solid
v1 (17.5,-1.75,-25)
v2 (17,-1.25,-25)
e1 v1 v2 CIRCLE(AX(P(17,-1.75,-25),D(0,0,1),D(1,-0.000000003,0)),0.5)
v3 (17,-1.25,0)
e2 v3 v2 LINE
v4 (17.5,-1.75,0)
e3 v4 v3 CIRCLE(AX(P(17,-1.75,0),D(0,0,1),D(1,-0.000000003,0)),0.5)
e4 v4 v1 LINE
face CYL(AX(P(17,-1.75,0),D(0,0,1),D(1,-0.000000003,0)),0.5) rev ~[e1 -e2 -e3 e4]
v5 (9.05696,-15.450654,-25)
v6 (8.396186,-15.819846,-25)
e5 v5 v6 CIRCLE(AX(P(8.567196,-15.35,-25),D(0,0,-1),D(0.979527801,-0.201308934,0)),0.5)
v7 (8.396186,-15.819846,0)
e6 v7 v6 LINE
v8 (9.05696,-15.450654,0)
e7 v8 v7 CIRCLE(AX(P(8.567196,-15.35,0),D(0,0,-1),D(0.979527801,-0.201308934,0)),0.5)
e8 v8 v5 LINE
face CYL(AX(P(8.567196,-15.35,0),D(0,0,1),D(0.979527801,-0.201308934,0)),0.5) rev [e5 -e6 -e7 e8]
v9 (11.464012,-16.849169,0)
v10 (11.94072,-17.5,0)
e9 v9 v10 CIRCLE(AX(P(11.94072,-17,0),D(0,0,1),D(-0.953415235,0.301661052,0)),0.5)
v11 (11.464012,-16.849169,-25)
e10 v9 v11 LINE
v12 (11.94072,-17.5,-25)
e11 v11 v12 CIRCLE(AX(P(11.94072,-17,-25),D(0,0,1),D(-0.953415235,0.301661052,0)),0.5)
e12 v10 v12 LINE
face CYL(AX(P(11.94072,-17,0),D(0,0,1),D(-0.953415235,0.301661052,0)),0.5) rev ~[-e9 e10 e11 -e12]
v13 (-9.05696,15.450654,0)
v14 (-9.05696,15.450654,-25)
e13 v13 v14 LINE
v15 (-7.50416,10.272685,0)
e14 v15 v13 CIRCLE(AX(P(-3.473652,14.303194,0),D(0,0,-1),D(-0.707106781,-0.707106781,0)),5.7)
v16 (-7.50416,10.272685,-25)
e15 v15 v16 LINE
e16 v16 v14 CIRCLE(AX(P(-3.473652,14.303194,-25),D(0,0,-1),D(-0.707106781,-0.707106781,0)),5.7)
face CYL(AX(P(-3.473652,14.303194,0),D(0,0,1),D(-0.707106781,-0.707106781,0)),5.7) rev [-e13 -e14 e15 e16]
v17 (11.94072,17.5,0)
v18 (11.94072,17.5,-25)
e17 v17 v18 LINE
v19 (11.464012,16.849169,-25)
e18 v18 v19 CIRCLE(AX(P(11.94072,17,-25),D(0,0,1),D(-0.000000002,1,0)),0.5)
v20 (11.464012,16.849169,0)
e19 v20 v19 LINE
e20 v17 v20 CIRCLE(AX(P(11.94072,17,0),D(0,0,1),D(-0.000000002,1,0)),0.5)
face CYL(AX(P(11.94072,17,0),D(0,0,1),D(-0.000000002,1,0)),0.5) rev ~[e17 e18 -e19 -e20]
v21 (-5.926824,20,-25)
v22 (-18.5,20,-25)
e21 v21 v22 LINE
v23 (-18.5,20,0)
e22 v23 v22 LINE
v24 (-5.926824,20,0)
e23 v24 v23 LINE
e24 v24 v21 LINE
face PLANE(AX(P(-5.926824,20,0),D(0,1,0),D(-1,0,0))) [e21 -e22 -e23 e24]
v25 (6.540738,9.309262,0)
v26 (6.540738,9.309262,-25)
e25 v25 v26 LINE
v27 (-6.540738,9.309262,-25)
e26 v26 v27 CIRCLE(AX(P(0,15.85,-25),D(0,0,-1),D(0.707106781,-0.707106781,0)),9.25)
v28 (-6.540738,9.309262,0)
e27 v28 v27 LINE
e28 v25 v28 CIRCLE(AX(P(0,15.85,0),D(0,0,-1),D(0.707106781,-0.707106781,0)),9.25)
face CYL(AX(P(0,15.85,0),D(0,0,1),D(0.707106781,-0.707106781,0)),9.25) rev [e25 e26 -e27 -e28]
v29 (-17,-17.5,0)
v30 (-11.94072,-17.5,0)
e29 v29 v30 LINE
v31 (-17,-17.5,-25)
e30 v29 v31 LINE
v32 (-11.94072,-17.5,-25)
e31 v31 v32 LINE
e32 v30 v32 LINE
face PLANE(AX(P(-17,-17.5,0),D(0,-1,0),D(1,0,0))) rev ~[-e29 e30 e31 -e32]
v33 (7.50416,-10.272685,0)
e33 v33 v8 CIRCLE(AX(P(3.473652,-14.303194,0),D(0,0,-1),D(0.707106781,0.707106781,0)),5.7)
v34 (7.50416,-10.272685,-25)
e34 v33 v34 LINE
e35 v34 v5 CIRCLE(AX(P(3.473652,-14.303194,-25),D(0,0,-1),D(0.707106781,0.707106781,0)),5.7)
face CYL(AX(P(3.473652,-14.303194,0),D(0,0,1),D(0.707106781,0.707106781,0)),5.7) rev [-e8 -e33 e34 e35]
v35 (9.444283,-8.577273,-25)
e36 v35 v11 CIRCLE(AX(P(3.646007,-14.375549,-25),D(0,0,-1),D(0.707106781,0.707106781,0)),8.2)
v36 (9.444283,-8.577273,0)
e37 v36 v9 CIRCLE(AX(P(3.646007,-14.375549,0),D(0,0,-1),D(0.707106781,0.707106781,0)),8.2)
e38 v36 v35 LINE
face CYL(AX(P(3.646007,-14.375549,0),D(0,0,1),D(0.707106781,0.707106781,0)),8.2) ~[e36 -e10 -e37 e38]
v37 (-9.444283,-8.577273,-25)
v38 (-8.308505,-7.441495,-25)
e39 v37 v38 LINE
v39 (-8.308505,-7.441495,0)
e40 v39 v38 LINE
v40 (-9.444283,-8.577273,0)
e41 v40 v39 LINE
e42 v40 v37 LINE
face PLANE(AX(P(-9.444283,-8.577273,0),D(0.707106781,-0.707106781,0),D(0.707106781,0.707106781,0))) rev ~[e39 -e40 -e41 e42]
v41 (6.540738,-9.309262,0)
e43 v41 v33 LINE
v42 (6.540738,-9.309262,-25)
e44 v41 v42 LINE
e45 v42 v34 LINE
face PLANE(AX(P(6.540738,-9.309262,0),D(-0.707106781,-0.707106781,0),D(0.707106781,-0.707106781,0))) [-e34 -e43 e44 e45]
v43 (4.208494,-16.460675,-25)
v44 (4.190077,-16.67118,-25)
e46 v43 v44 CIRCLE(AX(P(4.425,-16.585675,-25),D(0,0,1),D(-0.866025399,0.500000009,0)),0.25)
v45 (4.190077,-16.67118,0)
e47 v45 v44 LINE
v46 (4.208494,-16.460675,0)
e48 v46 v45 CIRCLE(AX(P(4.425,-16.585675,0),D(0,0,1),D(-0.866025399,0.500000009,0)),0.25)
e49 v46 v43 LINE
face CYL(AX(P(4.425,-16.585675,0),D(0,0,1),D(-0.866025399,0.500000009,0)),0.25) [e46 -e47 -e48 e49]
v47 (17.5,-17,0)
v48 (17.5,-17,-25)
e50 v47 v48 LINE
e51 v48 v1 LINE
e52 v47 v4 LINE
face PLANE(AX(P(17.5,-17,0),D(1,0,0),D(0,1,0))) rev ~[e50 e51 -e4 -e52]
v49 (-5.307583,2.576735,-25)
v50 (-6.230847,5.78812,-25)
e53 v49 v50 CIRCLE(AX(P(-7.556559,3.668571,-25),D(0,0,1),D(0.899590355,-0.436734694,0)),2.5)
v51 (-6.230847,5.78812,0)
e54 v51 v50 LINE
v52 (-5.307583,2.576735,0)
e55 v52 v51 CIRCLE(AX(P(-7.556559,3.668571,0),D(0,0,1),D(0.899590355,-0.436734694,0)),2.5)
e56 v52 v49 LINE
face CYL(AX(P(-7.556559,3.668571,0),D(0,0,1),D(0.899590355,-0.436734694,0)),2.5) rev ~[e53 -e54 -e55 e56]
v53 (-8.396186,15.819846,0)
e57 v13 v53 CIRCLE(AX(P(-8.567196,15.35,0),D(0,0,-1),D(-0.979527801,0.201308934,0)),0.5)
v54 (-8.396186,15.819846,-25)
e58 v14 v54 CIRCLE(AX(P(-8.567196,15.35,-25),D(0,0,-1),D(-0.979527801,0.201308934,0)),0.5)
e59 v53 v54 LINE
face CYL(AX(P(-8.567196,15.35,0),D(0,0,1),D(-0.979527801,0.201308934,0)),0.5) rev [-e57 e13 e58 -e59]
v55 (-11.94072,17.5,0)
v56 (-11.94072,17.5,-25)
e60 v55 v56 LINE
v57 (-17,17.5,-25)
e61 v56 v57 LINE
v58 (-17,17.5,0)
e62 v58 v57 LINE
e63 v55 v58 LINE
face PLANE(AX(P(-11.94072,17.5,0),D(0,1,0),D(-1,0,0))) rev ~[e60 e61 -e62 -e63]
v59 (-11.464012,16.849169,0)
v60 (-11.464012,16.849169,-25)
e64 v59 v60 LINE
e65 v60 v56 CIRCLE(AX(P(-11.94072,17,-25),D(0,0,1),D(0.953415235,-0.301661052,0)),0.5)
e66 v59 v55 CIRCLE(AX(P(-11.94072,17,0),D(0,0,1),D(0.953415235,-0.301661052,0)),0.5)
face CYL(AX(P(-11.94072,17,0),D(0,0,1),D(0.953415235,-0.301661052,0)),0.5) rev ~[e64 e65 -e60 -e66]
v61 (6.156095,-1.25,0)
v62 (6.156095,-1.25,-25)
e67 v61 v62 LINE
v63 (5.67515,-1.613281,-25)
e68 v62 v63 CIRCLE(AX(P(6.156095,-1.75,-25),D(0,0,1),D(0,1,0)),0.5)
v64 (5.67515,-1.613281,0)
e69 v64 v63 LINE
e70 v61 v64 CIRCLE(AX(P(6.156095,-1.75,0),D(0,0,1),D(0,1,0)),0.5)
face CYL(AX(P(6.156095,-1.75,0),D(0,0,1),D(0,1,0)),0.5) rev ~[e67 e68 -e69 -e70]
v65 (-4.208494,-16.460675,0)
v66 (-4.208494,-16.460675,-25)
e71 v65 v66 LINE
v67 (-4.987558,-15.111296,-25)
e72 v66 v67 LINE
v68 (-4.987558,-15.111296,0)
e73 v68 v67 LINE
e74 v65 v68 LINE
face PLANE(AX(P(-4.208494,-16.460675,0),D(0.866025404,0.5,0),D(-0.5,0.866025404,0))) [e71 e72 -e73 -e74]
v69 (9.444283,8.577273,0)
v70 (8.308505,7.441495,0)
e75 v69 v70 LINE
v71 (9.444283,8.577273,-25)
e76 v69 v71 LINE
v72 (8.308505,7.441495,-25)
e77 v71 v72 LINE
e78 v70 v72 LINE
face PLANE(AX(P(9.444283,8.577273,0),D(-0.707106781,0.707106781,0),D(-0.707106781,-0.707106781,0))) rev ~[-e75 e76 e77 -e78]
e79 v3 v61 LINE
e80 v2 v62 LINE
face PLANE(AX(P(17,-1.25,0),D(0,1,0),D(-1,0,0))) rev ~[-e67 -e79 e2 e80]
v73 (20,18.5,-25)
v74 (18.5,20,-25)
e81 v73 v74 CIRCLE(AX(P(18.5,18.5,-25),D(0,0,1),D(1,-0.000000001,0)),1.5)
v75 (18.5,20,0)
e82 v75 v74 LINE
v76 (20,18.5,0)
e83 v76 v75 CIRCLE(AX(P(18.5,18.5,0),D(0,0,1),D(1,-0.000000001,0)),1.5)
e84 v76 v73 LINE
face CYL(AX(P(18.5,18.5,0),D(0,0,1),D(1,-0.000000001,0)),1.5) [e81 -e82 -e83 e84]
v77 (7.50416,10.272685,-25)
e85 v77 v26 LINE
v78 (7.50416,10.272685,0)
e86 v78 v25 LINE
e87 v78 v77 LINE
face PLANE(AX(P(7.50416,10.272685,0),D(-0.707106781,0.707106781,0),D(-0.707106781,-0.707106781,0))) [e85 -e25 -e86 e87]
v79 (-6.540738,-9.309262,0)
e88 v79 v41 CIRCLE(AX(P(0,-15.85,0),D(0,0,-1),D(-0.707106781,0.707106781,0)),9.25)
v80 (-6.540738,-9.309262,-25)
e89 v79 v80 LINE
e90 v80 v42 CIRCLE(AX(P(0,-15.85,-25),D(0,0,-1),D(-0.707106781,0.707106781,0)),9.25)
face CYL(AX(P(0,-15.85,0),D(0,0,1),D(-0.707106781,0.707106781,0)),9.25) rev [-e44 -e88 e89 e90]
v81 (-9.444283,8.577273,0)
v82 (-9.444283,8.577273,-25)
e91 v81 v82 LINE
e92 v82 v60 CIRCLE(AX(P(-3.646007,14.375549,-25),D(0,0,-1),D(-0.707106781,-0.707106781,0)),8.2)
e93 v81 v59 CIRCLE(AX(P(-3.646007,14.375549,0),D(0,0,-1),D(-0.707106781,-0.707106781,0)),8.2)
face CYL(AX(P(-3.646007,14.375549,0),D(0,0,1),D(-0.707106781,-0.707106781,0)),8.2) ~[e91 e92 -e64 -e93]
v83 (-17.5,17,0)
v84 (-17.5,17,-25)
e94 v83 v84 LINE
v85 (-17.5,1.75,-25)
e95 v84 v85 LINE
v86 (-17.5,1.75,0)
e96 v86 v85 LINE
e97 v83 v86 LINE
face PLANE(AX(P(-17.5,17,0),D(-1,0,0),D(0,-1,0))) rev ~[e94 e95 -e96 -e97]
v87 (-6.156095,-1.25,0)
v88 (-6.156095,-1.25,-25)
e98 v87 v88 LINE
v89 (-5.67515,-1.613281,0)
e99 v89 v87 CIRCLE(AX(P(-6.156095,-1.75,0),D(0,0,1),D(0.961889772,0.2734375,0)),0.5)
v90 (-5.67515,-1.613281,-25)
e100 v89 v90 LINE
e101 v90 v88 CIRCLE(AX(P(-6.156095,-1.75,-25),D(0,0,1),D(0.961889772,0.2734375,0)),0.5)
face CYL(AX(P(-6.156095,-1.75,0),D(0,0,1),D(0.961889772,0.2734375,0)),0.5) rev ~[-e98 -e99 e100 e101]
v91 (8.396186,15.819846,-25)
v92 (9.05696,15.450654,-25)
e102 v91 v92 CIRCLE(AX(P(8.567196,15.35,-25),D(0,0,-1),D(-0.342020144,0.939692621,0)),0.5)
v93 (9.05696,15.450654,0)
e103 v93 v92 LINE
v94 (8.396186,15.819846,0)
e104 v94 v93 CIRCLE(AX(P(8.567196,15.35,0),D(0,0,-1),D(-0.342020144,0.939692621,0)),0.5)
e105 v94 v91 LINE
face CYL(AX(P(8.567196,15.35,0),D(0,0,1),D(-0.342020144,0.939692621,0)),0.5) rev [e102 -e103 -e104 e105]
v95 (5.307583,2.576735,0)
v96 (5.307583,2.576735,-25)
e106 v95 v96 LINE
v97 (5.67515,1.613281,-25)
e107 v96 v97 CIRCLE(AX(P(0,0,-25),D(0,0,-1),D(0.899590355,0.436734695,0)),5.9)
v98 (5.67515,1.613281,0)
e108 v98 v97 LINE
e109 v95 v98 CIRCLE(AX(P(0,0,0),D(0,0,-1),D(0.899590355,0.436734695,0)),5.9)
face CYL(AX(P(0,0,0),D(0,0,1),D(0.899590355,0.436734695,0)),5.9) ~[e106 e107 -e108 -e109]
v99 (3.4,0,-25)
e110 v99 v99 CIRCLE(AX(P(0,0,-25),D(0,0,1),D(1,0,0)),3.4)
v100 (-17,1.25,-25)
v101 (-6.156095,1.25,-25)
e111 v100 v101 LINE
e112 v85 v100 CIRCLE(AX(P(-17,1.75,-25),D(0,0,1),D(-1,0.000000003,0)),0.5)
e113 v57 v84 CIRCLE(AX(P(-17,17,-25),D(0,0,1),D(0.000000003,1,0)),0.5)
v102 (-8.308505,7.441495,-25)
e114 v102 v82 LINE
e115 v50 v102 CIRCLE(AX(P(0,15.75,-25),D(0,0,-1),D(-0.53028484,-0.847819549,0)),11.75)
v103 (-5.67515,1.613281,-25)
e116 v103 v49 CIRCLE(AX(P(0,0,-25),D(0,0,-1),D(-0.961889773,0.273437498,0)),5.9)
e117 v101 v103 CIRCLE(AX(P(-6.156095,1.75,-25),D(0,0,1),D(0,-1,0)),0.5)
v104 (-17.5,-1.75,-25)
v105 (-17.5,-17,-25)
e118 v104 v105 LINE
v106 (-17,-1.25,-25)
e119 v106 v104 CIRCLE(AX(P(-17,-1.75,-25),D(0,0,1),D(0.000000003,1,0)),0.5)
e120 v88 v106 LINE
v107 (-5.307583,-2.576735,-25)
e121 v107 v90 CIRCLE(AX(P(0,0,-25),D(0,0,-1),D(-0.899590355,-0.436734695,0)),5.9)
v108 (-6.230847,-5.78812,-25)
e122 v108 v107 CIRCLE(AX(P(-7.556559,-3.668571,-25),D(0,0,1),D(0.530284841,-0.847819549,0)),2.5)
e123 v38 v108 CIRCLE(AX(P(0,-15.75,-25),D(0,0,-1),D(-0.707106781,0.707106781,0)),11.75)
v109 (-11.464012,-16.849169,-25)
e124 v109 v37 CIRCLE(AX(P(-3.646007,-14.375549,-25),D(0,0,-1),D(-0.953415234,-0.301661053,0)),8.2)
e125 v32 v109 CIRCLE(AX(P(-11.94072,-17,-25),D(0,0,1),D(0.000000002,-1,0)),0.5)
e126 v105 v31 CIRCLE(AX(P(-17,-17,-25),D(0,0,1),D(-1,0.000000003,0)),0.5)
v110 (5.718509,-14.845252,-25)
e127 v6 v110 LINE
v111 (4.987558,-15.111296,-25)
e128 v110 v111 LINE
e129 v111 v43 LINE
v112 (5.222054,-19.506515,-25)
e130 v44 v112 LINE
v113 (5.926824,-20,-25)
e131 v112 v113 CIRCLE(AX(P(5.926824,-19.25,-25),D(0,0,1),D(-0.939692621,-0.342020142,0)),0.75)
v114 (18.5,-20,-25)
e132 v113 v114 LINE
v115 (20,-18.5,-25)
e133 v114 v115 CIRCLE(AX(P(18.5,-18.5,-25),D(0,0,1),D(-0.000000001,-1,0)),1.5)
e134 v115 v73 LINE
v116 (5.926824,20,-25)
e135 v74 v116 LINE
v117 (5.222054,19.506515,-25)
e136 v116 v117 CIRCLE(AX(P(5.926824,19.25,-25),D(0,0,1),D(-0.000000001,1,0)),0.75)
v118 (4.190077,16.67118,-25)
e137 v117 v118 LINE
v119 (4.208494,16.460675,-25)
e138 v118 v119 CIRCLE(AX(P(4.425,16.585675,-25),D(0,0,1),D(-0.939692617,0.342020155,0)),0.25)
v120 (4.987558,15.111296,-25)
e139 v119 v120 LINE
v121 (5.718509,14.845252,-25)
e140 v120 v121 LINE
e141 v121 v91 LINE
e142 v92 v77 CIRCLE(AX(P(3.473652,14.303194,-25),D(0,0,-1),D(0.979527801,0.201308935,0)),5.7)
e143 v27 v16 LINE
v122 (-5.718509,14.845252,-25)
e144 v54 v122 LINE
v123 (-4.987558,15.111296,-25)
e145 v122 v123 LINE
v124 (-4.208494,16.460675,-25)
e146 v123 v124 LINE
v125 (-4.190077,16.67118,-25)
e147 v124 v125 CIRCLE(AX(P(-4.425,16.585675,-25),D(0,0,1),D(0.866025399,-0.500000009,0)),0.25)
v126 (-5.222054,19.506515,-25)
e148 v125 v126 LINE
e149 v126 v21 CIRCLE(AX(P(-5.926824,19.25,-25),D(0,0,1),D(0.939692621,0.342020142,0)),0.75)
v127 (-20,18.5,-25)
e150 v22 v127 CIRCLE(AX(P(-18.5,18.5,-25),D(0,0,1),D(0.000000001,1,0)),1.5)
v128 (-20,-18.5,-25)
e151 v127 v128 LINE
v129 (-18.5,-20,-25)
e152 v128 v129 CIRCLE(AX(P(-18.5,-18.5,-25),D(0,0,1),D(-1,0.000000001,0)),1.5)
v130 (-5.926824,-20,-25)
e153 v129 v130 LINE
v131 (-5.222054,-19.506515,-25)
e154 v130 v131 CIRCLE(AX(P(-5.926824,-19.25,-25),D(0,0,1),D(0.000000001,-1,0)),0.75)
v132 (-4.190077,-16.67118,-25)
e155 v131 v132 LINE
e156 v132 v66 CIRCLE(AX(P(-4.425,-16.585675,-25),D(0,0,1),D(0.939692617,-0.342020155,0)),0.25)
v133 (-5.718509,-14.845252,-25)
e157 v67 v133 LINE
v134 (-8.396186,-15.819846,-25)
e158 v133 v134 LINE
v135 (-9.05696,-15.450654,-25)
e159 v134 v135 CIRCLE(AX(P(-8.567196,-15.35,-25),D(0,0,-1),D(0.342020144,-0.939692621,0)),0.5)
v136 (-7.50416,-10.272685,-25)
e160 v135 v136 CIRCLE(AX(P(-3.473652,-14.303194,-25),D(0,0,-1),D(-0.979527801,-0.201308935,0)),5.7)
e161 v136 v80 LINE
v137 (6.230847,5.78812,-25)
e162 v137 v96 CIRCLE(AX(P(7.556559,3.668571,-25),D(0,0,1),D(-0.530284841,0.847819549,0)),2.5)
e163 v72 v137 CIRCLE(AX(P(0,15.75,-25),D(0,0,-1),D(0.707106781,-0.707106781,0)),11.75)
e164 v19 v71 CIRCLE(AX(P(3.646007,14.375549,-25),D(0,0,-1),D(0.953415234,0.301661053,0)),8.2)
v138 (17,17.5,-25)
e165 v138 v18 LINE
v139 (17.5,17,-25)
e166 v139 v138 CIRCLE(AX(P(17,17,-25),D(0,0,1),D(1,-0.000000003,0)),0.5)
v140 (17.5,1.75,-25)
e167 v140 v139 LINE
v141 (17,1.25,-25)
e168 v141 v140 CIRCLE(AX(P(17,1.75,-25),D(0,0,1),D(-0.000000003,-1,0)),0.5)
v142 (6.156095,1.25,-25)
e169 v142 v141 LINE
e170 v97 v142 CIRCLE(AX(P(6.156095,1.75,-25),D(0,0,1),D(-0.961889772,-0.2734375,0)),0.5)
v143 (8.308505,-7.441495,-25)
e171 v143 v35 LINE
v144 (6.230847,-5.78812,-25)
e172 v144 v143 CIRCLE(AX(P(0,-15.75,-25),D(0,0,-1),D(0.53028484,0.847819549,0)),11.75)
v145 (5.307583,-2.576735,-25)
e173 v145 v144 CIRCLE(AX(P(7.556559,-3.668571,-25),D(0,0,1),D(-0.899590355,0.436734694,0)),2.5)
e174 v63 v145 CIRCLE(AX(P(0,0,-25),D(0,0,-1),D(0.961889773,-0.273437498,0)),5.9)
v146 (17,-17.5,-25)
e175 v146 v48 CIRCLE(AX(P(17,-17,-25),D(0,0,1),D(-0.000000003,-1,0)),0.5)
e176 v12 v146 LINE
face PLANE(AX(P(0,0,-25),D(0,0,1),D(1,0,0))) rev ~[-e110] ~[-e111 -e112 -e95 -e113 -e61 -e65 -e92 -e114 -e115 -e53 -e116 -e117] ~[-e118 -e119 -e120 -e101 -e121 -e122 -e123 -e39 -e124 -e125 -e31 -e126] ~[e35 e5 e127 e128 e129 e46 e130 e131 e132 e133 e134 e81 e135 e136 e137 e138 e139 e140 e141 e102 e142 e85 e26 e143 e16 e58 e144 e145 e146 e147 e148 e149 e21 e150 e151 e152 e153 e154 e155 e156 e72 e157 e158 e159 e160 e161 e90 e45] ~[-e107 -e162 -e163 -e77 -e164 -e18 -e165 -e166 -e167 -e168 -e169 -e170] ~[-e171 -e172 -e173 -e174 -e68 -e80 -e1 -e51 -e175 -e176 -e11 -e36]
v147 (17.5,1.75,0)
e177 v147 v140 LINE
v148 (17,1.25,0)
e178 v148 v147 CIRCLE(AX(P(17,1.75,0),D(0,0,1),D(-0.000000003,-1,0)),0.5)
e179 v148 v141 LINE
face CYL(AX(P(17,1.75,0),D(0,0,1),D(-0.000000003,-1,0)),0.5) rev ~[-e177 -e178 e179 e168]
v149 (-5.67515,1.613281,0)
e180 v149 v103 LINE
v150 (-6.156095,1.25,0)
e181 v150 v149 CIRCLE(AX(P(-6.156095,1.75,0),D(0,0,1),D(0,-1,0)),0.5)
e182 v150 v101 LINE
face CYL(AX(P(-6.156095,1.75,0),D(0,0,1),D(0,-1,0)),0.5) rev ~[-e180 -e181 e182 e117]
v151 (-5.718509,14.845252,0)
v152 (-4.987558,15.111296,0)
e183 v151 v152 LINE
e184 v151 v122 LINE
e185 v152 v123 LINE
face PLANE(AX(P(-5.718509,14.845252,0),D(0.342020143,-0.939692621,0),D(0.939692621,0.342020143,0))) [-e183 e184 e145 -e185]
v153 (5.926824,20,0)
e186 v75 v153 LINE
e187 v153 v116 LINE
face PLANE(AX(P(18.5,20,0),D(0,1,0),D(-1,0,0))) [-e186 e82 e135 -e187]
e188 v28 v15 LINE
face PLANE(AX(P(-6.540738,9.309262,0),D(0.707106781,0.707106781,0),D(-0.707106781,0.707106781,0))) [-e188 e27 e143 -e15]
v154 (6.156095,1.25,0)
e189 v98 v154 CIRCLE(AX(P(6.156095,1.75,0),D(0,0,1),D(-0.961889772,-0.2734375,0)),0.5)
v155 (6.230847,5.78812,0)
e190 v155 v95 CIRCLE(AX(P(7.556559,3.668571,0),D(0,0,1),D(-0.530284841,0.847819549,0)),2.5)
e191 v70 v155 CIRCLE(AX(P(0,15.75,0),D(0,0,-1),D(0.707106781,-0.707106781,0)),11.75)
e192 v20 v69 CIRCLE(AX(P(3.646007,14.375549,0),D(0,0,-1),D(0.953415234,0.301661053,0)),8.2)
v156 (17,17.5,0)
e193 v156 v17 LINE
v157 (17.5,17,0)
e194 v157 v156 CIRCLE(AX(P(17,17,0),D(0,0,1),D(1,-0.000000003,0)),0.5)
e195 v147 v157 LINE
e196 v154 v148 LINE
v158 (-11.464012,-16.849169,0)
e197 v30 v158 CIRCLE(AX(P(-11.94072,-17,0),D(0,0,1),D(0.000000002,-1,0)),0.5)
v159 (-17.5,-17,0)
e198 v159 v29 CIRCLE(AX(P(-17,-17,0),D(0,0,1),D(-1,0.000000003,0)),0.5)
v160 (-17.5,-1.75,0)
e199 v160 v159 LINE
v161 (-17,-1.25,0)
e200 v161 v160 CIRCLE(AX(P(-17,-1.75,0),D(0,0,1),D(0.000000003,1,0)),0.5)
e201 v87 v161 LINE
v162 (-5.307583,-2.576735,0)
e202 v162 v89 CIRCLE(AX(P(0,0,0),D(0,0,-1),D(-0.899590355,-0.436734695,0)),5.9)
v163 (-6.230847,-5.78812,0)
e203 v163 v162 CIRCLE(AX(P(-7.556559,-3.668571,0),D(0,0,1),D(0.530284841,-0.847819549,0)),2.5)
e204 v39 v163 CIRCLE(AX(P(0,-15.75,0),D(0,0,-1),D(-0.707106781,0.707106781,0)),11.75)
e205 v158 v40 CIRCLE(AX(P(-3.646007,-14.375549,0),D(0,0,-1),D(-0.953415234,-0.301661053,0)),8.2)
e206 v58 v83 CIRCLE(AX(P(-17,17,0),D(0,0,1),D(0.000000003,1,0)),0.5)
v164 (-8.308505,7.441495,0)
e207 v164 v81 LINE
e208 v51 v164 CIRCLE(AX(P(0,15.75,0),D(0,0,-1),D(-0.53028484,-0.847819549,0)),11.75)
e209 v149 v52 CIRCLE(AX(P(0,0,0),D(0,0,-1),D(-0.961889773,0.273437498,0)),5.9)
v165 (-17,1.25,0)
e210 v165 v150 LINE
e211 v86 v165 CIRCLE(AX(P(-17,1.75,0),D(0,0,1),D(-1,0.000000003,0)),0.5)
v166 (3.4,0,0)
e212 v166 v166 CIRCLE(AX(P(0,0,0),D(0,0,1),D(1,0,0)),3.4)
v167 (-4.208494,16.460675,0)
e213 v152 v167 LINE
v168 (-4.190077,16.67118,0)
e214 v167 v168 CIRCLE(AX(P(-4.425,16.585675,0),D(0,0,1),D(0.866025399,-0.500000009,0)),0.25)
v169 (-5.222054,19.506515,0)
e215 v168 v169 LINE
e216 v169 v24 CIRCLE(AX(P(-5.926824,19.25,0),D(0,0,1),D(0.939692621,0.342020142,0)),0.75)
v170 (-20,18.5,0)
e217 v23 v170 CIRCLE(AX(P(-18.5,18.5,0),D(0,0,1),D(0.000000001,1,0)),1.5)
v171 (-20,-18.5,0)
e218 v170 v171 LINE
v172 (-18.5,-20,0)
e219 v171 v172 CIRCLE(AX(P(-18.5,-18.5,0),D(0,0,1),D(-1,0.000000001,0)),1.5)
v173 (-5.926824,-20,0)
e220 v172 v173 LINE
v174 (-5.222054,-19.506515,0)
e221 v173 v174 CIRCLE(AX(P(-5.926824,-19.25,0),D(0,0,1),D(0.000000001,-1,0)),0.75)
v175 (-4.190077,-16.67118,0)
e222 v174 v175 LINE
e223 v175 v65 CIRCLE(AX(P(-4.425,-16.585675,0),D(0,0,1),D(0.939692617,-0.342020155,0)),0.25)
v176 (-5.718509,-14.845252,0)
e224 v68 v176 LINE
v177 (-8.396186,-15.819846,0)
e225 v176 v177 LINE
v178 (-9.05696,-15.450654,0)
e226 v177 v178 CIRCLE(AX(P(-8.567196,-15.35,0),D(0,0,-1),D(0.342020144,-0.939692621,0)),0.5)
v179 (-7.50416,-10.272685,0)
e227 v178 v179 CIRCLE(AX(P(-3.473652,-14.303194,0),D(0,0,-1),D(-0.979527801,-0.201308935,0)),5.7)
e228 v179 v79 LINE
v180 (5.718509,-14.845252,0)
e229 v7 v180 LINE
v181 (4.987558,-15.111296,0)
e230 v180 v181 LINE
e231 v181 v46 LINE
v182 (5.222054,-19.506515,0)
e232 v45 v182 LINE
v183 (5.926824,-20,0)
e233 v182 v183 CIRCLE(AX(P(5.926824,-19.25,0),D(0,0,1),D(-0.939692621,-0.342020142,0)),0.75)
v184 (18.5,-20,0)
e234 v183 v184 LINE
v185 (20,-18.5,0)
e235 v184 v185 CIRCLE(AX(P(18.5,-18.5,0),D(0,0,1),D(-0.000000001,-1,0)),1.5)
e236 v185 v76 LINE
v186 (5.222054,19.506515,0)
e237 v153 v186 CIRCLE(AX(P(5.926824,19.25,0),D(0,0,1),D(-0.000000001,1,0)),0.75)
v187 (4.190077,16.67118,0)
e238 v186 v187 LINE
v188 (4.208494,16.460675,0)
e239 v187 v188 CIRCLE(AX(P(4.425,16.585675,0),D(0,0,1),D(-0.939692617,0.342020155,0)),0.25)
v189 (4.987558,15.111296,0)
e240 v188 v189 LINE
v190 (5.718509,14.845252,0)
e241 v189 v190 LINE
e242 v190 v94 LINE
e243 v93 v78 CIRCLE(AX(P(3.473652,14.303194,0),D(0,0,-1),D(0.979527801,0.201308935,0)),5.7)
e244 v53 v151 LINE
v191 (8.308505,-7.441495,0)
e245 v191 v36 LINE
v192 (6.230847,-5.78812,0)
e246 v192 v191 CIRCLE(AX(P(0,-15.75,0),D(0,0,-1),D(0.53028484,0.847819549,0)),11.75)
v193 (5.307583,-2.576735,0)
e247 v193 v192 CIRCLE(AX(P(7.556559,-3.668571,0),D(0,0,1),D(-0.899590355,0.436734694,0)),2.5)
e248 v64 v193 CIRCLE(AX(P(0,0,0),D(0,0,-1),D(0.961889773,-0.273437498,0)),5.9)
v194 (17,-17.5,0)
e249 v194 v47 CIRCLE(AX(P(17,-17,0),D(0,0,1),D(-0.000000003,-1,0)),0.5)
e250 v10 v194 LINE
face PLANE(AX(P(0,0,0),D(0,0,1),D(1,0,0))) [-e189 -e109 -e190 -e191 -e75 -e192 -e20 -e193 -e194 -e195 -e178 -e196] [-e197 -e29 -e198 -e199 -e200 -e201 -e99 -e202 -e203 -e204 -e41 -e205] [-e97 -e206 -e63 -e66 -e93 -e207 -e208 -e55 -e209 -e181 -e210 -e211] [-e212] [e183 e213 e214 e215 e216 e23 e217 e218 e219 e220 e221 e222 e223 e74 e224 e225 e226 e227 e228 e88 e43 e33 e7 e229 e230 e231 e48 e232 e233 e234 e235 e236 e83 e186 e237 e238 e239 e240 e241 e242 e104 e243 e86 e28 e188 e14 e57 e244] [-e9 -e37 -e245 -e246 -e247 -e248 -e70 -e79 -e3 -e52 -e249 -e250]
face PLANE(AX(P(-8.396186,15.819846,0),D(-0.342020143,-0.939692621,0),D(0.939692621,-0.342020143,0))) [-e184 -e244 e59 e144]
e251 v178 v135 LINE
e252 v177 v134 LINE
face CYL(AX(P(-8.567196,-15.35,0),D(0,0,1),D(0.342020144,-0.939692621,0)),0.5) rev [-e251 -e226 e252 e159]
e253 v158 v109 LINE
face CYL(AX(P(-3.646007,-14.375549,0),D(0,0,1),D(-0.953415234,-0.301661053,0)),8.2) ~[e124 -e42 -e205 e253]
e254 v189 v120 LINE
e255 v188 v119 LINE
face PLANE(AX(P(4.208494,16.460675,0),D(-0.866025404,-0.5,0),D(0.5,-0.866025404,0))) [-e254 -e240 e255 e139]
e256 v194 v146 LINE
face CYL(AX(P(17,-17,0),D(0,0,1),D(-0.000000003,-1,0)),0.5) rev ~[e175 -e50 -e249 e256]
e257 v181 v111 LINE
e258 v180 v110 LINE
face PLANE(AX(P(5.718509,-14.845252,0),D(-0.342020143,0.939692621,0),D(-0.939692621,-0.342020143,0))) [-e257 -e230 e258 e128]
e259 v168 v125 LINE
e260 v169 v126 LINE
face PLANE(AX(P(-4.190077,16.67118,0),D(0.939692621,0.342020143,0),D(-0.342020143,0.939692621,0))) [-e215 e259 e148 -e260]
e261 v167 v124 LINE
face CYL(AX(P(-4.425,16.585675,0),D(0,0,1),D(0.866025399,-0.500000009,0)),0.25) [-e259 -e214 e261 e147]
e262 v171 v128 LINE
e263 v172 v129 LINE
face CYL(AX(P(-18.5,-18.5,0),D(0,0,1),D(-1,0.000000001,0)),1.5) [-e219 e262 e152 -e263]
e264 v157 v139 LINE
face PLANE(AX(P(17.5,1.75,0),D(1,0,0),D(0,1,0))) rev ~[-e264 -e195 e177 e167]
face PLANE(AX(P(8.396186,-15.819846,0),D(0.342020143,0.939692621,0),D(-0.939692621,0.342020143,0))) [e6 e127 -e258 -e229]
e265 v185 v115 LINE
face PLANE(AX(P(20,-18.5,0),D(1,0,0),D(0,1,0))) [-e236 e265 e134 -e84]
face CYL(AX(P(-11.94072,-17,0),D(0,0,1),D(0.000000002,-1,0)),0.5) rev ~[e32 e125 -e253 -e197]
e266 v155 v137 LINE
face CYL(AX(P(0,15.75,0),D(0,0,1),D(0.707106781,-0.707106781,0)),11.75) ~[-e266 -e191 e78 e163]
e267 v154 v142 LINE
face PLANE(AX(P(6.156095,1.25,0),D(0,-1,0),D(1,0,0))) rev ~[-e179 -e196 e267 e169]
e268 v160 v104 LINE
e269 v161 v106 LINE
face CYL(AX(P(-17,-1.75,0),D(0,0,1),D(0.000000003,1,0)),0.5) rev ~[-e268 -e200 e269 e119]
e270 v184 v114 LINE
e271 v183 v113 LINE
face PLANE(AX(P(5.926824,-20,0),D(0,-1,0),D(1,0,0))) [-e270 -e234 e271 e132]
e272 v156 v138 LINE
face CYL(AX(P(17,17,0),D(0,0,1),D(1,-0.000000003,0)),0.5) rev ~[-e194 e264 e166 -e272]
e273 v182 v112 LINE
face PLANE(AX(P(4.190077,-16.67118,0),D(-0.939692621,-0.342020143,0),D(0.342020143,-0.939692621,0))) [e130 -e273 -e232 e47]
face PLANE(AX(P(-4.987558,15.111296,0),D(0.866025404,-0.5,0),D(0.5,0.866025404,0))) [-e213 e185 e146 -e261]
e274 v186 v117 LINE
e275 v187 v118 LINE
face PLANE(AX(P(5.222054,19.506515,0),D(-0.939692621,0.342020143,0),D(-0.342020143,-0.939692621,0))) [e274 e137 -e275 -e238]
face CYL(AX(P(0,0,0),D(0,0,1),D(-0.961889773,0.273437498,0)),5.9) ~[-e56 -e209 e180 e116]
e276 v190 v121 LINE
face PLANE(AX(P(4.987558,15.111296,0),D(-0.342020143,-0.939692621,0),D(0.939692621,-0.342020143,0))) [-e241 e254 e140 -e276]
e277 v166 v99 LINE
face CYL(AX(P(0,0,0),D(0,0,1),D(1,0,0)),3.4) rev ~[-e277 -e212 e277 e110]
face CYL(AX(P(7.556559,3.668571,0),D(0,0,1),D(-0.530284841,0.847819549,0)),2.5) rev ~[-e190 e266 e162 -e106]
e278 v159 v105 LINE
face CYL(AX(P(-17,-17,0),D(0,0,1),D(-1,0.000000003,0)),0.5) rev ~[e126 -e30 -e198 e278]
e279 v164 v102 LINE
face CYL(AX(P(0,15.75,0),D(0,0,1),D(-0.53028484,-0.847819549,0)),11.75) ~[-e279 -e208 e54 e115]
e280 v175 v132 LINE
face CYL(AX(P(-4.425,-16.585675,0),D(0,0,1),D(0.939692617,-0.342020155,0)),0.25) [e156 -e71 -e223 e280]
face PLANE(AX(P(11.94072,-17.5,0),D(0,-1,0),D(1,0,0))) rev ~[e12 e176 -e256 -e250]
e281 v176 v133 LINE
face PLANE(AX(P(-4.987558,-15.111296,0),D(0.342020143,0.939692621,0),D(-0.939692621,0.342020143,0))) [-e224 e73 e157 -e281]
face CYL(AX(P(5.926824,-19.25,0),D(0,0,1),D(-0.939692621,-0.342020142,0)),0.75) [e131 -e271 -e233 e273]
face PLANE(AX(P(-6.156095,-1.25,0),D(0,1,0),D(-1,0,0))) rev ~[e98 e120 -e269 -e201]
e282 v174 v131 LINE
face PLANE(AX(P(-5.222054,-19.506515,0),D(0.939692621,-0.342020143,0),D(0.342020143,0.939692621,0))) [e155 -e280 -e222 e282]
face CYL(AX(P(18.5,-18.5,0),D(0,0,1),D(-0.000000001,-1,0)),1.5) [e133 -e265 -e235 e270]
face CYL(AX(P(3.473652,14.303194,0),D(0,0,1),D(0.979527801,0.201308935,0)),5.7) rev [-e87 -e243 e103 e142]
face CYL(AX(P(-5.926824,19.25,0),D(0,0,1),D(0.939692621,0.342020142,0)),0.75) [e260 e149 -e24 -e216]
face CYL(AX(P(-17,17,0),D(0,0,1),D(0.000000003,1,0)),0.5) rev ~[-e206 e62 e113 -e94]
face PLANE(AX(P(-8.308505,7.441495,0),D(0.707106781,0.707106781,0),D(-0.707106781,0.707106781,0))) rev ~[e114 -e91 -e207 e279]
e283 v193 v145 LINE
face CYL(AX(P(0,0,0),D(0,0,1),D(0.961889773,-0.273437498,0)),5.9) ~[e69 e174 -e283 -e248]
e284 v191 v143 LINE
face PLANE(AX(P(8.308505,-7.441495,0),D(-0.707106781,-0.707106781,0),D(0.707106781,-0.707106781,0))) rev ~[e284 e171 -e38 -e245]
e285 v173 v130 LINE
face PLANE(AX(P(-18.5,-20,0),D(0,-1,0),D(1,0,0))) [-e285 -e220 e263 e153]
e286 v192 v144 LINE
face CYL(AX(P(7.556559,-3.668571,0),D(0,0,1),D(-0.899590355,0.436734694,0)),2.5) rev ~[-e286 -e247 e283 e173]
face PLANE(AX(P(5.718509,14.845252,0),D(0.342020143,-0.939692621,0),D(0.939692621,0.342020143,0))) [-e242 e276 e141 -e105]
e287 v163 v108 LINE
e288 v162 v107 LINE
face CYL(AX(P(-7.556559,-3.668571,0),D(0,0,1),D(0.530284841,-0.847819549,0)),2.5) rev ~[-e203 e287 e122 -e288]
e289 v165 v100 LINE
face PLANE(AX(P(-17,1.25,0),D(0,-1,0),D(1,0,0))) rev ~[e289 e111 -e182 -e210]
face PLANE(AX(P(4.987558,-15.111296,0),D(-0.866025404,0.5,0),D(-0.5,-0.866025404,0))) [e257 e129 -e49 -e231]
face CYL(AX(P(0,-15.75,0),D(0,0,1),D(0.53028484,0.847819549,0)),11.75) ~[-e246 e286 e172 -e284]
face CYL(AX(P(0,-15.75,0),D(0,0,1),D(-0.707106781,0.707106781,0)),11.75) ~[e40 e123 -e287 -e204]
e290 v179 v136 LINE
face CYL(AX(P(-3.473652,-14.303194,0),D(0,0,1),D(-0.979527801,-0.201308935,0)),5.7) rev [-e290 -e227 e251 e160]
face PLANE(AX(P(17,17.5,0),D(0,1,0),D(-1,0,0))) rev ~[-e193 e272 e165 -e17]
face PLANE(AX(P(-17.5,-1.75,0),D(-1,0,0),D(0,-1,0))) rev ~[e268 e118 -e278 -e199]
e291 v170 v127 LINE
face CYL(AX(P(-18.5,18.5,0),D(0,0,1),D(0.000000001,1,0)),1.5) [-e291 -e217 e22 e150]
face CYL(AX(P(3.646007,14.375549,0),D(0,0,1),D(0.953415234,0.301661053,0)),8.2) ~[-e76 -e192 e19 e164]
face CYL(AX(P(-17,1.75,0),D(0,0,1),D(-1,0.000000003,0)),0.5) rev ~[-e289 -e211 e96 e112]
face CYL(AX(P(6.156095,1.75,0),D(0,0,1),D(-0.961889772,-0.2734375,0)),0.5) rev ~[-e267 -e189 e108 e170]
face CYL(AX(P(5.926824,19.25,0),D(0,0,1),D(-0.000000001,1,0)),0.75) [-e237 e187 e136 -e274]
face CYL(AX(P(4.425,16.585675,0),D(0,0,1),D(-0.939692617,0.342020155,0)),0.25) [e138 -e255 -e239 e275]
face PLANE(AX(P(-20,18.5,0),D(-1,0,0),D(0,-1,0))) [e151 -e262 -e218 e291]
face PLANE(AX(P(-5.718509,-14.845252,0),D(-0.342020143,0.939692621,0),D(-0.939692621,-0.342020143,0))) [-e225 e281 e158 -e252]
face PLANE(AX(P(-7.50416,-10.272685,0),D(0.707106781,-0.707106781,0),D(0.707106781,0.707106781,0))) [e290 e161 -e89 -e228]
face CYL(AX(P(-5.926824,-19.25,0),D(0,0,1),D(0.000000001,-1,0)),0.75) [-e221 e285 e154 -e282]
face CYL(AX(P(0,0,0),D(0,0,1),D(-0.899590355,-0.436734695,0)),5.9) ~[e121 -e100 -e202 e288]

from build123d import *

# Parameters (mm, degrees)
SK_MAIN_EXTRUSION_R  = 3.4
MAIN_EXTRUSION_DEPTH = 25


with BuildPart() as part:
    # Sk Main Extrusion → Main Extrusion (new body)
    with BuildSketch(Plane.XY):
        with BuildLine():
            Line((-4.190076845, 16.671180212), (-5.222054351, 19.506515107))
            ThreePointArc((-5.222054351, 19.506515107), (-5.496641489, 19.864364033), (-5.926823816, 20))
            Line((-5.926823816, 20), (-18.5, 20))
            ThreePointArc((-18.5, 20), (-19.560660172, 19.560660172), (-20, 18.5))
            Line((-20, 18.5), (-20, -18.5))
            ThreePointArc((-20, -18.5), (-19.560660172, -19.560660172), (-18.5, -20))
            Line((-18.5, -20), (-5.926823816, -20))
            ThreePointArc((-5.926823816, -20), (-5.496641489, -19.864364033), (-5.222054351, -19.506515107))
            Line((-5.222054351, -19.506515107), (-4.190076845, -16.671180212))
            ThreePointArc((-4.190076845, -16.671180212), (-4.175951325, -16.563886241), (-4.208493649, -16.460675177))
            Line((-4.208493649, -16.460675177), (-4.987558066, -15.111296024))
            Line((-4.987558066, -15.111296024), (-5.718509166, -14.845251581))
            Line((-5.718509166, -14.845251581), (-8.396186179, -15.81984631))
            ThreePointArc((-8.396186179, -15.81984631), (-8.811074612, -15.786489799), (-9.056960151, -15.450654467))
            ThreePointArc((-9.056960151, -15.450654467), (-8.933433013, -12.665882372), (-7.504160339, -10.272684887))
            Line((-7.504160339, -10.272684887), (-6.540737726, -9.309262274))
            ThreePointArc((-6.540737726, -9.309262274), (0, -6.6), (6.540737726, -9.309262274))
            Line((6.540737726, -9.309262274), (7.504160339, -10.272684887))
            ThreePointArc((7.504160339, -10.272684887), (8.933433013, -12.665882372), (9.056960151, -15.450654467))
            ThreePointArc((9.056960151, -15.450654467), (8.811074612, -15.786489799), (8.396186179, -15.81984631))
            Line((8.396186179, -15.81984631), (5.718509166, -14.845251581))
            Line((5.718509166, -14.845251581), (4.987558066, -15.111296024))
            Line((4.987558066, -15.111296024), (4.208493649, -16.460675177))
            ThreePointArc((4.208493649, -16.460675177), (4.175951325, -16.563886241), (4.190076845, -16.671180212))
            Line((4.190076845, -16.671180212), (5.222054351, -19.506515107))
            ThreePointArc((5.222054351, -19.506515107), (5.496641489, -19.864364033), (5.926823816, -20))
            Line((5.926823816, -20), (18.5, -20))
            ThreePointArc((18.5, -20), (19.560660172, -19.560660172), (20, -18.5))
            Line((20, -18.5), (20, 18.5))
            ThreePointArc((20, 18.5), (19.560660172, 19.560660172), (18.5, 20))
            Line((18.5, 20), (5.926823816, 20))
            ThreePointArc((5.926823816, 20), (5.496641489, 19.864364033), (5.222054351, 19.506515107))
            Line((5.222054351, 19.506515107), (4.190076845, 16.671180212))
            ThreePointArc((4.190076845, 16.671180212), (4.175951325, 16.563886241), (4.208493649, 16.460675177))
            Line((4.208493649, 16.460675177), (4.987558066, 15.111296024))
            Line((4.987558066, 15.111296024), (5.718509166, 14.845251581))
            Line((5.718509166, 14.845251581), (8.396186179, 15.81984631))
            ThreePointArc((8.396186179, 15.81984631), (8.811074612, 15.786489799), (9.056960151, 15.450654467))
            ThreePointArc((9.056960151, 15.450654467), (8.933433013, 12.665882372), (7.504160339, 10.272684887))
            Line((7.504160339, 10.272684887), (6.540737726, 9.309262274))
            ThreePointArc((6.540737726, 9.309262274), (0, 6.6), (-6.540737726, 9.309262274))
            Line((-6.540737726, 9.309262274), (-7.504160339, 10.272684887))
            ThreePointArc((-7.504160339, 10.272684887), (-8.933433013, 12.665882372), (-9.056960151, 15.450654467))
            ThreePointArc((-9.056960151, 15.450654467), (-8.811074612, 15.786489799), (-8.396186179, 15.81984631))
            Line((-8.396186179, 15.81984631), (-5.718509166, 14.845251581))
            Line((-5.718509166, 14.845251581), (-4.987558066, 15.111296024))
            Line((-4.987558066, 15.111296024), (-4.208493649, 16.460675177))
            ThreePointArc((-4.208493649, 16.460675177), (-4.175951325, 16.563886241), (-4.190076845, 16.671180212))
        make_face()
        Circle(SK_MAIN_EXTRUSION_R, mode=Mode.SUBTRACT)
        with BuildLine():
            Line((-8.308504679, 7.441495321), (-9.444282589, 8.577273231))
            ThreePointArc((-9.444282589, 8.577273231), (-11.611987193, 12.430514315), (-11.464011904, 16.849169473))
            ThreePointArc((-11.464011904, 16.849169473), (-11.537349181, 17.295452819), (-11.940719521, 17.5))
            Line((-11.940719521, 17.5), (-17, 17.5))
            ThreePointArc((-17, 17.5), (-17.353553391, 17.353553391), (-17.5, 17))
            Line((-17.5, 17), (-17.5, 1.75))
            ThreePointArc((-17.5, 1.75), (-17.353553391, 1.396446609), (-17, 1.25))
            Line((-17, 1.25), (-6.156094541, 1.25))
            ThreePointArc((-6.156094541, 1.25), (-5.854730455, 1.351026708), (-5.675149655, 1.61328125))
            ThreePointArc((-5.675149655, 1.61328125), (-5.51245547, 2.10305366), (-5.307583096, 2.576734694))
            ThreePointArc((-5.307583096, 2.576734694), (-5.153883821, 4.359333373), (-6.230846881, 5.788120301))
            ThreePointArc((-6.230846881, 5.788120301), (-7.316529108, 6.555931161), (-8.308504679, 7.441495321))
        make_face(mode=Mode.SUBTRACT)
        with BuildLine():
            Line((-17.5, -1.75), (-17.5, -17))
            ThreePointArc((-17.5, -17), (-17.353553391, -17.353553391), (-17, -17.5))
            Line((-17, -17.5), (-11.940719521, -17.5))
            ThreePointArc((-11.940719521, -17.5), (-11.537349181, -17.295452819), (-11.464011904, -16.849169473))
            ThreePointArc((-11.464011904, -16.849169473), (-11.611987193, -12.430514315), (-9.444282589, -8.577273231))
            Line((-9.444282589, -8.577273231), (-8.308504679, -7.441495321))
            ThreePointArc((-8.308504679, -7.441495321), (-7.316529108, -6.555931161), (-6.230846881, -5.788120301))
            ThreePointArc((-6.230846881, -5.788120301), (-5.153883821, -4.359333373), (-5.307583096, -2.576734694))
            ThreePointArc((-5.307583096, -2.576734694), (-5.51245547, -2.10305366), (-5.675149655, -1.61328125))
            ThreePointArc((-5.675149655, -1.61328125), (-5.854730455, -1.351026708), (-6.156094541, -1.25))
            Line((-6.156094541, -1.25), (-17, -1.25))
            ThreePointArc((-17, -1.25), (-17.353553391, -1.396446609), (-17.5, -1.75))
        make_face(mode=Mode.SUBTRACT)
        with BuildLine():
            Line((9.444282589, 8.577273231), (8.308504679, 7.441495321))
            ThreePointArc((8.308504679, 7.441495321), (7.316529108, 6.555931161), (6.230846881, 5.788120301))
            ThreePointArc((6.230846881, 5.788120301), (5.153883821, 4.359333373), (5.307583096, 2.576734694))
            ThreePointArc((5.307583096, 2.576734694), (5.51245547, 2.10305366), (5.675149655, 1.61328125))
            ThreePointArc((5.675149655, 1.61328125), (5.854730455, 1.351026708), (6.156094541, 1.25))
            Line((6.156094541, 1.25), (17, 1.25))
            ThreePointArc((17, 1.25), (17.353553391, 1.396446609), (17.5, 1.75))
            Line((17.5, 1.75), (17.5, 17))
            ThreePointArc((17.5, 17), (17.353553391, 17.353553391), (17, 17.5))
            Line((17, 17.5), (11.940719521, 17.5))
            ThreePointArc((11.940719521, 17.5), (11.537349181, 17.295452819), (11.464011904, 16.849169473))
            ThreePointArc((11.464011904, 16.849169473), (11.611987193, 12.430514315), (9.444282589, 8.577273231))
        make_face(mode=Mode.SUBTRACT)
        with BuildLine():
            Line((8.308504679, -7.441495321), (9.444282589, -8.577273231))
            ThreePointArc((9.444282589, -8.577273231), (11.611987193, -12.430514315), (11.464011904, -16.849169473))
            ThreePointArc((11.464011904, -16.849169473), (11.537349181, -17.295452819), (11.940719521, -17.5))
            Line((11.940719521, -17.5), (17, -17.5))
            ThreePointArc((17, -17.5), (17.353553391, -17.353553391), (17.5, -17))
            Line((17.5, -17), (17.5, -1.75))
            ThreePointArc((17.5, -1.75), (17.353553391, -1.396446609), (17, -1.25))
            Line((17, -1.25), (6.156094541, -1.25))
            ThreePointArc((6.156094541, -1.25), (5.854730455, -1.351026708), (5.675149655, -1.61328125))
            ThreePointArc((5.675149655, -1.61328125), (5.51245547, -2.10305366), (5.307583096, -2.576734694))
            ThreePointArc((5.307583096, -2.576734694), (5.153883821, -4.359333373), (6.230846881, -5.788120301))
            ThreePointArc((6.230846881, -5.788120301), (7.316529108, -6.555931161), (8.308504679, -7.441495321))
        make_face(mode=Mode.SUBTRACT)
    extrude(amount=-MAIN_EXTRUSION_DEPTH)


solid = part.part
